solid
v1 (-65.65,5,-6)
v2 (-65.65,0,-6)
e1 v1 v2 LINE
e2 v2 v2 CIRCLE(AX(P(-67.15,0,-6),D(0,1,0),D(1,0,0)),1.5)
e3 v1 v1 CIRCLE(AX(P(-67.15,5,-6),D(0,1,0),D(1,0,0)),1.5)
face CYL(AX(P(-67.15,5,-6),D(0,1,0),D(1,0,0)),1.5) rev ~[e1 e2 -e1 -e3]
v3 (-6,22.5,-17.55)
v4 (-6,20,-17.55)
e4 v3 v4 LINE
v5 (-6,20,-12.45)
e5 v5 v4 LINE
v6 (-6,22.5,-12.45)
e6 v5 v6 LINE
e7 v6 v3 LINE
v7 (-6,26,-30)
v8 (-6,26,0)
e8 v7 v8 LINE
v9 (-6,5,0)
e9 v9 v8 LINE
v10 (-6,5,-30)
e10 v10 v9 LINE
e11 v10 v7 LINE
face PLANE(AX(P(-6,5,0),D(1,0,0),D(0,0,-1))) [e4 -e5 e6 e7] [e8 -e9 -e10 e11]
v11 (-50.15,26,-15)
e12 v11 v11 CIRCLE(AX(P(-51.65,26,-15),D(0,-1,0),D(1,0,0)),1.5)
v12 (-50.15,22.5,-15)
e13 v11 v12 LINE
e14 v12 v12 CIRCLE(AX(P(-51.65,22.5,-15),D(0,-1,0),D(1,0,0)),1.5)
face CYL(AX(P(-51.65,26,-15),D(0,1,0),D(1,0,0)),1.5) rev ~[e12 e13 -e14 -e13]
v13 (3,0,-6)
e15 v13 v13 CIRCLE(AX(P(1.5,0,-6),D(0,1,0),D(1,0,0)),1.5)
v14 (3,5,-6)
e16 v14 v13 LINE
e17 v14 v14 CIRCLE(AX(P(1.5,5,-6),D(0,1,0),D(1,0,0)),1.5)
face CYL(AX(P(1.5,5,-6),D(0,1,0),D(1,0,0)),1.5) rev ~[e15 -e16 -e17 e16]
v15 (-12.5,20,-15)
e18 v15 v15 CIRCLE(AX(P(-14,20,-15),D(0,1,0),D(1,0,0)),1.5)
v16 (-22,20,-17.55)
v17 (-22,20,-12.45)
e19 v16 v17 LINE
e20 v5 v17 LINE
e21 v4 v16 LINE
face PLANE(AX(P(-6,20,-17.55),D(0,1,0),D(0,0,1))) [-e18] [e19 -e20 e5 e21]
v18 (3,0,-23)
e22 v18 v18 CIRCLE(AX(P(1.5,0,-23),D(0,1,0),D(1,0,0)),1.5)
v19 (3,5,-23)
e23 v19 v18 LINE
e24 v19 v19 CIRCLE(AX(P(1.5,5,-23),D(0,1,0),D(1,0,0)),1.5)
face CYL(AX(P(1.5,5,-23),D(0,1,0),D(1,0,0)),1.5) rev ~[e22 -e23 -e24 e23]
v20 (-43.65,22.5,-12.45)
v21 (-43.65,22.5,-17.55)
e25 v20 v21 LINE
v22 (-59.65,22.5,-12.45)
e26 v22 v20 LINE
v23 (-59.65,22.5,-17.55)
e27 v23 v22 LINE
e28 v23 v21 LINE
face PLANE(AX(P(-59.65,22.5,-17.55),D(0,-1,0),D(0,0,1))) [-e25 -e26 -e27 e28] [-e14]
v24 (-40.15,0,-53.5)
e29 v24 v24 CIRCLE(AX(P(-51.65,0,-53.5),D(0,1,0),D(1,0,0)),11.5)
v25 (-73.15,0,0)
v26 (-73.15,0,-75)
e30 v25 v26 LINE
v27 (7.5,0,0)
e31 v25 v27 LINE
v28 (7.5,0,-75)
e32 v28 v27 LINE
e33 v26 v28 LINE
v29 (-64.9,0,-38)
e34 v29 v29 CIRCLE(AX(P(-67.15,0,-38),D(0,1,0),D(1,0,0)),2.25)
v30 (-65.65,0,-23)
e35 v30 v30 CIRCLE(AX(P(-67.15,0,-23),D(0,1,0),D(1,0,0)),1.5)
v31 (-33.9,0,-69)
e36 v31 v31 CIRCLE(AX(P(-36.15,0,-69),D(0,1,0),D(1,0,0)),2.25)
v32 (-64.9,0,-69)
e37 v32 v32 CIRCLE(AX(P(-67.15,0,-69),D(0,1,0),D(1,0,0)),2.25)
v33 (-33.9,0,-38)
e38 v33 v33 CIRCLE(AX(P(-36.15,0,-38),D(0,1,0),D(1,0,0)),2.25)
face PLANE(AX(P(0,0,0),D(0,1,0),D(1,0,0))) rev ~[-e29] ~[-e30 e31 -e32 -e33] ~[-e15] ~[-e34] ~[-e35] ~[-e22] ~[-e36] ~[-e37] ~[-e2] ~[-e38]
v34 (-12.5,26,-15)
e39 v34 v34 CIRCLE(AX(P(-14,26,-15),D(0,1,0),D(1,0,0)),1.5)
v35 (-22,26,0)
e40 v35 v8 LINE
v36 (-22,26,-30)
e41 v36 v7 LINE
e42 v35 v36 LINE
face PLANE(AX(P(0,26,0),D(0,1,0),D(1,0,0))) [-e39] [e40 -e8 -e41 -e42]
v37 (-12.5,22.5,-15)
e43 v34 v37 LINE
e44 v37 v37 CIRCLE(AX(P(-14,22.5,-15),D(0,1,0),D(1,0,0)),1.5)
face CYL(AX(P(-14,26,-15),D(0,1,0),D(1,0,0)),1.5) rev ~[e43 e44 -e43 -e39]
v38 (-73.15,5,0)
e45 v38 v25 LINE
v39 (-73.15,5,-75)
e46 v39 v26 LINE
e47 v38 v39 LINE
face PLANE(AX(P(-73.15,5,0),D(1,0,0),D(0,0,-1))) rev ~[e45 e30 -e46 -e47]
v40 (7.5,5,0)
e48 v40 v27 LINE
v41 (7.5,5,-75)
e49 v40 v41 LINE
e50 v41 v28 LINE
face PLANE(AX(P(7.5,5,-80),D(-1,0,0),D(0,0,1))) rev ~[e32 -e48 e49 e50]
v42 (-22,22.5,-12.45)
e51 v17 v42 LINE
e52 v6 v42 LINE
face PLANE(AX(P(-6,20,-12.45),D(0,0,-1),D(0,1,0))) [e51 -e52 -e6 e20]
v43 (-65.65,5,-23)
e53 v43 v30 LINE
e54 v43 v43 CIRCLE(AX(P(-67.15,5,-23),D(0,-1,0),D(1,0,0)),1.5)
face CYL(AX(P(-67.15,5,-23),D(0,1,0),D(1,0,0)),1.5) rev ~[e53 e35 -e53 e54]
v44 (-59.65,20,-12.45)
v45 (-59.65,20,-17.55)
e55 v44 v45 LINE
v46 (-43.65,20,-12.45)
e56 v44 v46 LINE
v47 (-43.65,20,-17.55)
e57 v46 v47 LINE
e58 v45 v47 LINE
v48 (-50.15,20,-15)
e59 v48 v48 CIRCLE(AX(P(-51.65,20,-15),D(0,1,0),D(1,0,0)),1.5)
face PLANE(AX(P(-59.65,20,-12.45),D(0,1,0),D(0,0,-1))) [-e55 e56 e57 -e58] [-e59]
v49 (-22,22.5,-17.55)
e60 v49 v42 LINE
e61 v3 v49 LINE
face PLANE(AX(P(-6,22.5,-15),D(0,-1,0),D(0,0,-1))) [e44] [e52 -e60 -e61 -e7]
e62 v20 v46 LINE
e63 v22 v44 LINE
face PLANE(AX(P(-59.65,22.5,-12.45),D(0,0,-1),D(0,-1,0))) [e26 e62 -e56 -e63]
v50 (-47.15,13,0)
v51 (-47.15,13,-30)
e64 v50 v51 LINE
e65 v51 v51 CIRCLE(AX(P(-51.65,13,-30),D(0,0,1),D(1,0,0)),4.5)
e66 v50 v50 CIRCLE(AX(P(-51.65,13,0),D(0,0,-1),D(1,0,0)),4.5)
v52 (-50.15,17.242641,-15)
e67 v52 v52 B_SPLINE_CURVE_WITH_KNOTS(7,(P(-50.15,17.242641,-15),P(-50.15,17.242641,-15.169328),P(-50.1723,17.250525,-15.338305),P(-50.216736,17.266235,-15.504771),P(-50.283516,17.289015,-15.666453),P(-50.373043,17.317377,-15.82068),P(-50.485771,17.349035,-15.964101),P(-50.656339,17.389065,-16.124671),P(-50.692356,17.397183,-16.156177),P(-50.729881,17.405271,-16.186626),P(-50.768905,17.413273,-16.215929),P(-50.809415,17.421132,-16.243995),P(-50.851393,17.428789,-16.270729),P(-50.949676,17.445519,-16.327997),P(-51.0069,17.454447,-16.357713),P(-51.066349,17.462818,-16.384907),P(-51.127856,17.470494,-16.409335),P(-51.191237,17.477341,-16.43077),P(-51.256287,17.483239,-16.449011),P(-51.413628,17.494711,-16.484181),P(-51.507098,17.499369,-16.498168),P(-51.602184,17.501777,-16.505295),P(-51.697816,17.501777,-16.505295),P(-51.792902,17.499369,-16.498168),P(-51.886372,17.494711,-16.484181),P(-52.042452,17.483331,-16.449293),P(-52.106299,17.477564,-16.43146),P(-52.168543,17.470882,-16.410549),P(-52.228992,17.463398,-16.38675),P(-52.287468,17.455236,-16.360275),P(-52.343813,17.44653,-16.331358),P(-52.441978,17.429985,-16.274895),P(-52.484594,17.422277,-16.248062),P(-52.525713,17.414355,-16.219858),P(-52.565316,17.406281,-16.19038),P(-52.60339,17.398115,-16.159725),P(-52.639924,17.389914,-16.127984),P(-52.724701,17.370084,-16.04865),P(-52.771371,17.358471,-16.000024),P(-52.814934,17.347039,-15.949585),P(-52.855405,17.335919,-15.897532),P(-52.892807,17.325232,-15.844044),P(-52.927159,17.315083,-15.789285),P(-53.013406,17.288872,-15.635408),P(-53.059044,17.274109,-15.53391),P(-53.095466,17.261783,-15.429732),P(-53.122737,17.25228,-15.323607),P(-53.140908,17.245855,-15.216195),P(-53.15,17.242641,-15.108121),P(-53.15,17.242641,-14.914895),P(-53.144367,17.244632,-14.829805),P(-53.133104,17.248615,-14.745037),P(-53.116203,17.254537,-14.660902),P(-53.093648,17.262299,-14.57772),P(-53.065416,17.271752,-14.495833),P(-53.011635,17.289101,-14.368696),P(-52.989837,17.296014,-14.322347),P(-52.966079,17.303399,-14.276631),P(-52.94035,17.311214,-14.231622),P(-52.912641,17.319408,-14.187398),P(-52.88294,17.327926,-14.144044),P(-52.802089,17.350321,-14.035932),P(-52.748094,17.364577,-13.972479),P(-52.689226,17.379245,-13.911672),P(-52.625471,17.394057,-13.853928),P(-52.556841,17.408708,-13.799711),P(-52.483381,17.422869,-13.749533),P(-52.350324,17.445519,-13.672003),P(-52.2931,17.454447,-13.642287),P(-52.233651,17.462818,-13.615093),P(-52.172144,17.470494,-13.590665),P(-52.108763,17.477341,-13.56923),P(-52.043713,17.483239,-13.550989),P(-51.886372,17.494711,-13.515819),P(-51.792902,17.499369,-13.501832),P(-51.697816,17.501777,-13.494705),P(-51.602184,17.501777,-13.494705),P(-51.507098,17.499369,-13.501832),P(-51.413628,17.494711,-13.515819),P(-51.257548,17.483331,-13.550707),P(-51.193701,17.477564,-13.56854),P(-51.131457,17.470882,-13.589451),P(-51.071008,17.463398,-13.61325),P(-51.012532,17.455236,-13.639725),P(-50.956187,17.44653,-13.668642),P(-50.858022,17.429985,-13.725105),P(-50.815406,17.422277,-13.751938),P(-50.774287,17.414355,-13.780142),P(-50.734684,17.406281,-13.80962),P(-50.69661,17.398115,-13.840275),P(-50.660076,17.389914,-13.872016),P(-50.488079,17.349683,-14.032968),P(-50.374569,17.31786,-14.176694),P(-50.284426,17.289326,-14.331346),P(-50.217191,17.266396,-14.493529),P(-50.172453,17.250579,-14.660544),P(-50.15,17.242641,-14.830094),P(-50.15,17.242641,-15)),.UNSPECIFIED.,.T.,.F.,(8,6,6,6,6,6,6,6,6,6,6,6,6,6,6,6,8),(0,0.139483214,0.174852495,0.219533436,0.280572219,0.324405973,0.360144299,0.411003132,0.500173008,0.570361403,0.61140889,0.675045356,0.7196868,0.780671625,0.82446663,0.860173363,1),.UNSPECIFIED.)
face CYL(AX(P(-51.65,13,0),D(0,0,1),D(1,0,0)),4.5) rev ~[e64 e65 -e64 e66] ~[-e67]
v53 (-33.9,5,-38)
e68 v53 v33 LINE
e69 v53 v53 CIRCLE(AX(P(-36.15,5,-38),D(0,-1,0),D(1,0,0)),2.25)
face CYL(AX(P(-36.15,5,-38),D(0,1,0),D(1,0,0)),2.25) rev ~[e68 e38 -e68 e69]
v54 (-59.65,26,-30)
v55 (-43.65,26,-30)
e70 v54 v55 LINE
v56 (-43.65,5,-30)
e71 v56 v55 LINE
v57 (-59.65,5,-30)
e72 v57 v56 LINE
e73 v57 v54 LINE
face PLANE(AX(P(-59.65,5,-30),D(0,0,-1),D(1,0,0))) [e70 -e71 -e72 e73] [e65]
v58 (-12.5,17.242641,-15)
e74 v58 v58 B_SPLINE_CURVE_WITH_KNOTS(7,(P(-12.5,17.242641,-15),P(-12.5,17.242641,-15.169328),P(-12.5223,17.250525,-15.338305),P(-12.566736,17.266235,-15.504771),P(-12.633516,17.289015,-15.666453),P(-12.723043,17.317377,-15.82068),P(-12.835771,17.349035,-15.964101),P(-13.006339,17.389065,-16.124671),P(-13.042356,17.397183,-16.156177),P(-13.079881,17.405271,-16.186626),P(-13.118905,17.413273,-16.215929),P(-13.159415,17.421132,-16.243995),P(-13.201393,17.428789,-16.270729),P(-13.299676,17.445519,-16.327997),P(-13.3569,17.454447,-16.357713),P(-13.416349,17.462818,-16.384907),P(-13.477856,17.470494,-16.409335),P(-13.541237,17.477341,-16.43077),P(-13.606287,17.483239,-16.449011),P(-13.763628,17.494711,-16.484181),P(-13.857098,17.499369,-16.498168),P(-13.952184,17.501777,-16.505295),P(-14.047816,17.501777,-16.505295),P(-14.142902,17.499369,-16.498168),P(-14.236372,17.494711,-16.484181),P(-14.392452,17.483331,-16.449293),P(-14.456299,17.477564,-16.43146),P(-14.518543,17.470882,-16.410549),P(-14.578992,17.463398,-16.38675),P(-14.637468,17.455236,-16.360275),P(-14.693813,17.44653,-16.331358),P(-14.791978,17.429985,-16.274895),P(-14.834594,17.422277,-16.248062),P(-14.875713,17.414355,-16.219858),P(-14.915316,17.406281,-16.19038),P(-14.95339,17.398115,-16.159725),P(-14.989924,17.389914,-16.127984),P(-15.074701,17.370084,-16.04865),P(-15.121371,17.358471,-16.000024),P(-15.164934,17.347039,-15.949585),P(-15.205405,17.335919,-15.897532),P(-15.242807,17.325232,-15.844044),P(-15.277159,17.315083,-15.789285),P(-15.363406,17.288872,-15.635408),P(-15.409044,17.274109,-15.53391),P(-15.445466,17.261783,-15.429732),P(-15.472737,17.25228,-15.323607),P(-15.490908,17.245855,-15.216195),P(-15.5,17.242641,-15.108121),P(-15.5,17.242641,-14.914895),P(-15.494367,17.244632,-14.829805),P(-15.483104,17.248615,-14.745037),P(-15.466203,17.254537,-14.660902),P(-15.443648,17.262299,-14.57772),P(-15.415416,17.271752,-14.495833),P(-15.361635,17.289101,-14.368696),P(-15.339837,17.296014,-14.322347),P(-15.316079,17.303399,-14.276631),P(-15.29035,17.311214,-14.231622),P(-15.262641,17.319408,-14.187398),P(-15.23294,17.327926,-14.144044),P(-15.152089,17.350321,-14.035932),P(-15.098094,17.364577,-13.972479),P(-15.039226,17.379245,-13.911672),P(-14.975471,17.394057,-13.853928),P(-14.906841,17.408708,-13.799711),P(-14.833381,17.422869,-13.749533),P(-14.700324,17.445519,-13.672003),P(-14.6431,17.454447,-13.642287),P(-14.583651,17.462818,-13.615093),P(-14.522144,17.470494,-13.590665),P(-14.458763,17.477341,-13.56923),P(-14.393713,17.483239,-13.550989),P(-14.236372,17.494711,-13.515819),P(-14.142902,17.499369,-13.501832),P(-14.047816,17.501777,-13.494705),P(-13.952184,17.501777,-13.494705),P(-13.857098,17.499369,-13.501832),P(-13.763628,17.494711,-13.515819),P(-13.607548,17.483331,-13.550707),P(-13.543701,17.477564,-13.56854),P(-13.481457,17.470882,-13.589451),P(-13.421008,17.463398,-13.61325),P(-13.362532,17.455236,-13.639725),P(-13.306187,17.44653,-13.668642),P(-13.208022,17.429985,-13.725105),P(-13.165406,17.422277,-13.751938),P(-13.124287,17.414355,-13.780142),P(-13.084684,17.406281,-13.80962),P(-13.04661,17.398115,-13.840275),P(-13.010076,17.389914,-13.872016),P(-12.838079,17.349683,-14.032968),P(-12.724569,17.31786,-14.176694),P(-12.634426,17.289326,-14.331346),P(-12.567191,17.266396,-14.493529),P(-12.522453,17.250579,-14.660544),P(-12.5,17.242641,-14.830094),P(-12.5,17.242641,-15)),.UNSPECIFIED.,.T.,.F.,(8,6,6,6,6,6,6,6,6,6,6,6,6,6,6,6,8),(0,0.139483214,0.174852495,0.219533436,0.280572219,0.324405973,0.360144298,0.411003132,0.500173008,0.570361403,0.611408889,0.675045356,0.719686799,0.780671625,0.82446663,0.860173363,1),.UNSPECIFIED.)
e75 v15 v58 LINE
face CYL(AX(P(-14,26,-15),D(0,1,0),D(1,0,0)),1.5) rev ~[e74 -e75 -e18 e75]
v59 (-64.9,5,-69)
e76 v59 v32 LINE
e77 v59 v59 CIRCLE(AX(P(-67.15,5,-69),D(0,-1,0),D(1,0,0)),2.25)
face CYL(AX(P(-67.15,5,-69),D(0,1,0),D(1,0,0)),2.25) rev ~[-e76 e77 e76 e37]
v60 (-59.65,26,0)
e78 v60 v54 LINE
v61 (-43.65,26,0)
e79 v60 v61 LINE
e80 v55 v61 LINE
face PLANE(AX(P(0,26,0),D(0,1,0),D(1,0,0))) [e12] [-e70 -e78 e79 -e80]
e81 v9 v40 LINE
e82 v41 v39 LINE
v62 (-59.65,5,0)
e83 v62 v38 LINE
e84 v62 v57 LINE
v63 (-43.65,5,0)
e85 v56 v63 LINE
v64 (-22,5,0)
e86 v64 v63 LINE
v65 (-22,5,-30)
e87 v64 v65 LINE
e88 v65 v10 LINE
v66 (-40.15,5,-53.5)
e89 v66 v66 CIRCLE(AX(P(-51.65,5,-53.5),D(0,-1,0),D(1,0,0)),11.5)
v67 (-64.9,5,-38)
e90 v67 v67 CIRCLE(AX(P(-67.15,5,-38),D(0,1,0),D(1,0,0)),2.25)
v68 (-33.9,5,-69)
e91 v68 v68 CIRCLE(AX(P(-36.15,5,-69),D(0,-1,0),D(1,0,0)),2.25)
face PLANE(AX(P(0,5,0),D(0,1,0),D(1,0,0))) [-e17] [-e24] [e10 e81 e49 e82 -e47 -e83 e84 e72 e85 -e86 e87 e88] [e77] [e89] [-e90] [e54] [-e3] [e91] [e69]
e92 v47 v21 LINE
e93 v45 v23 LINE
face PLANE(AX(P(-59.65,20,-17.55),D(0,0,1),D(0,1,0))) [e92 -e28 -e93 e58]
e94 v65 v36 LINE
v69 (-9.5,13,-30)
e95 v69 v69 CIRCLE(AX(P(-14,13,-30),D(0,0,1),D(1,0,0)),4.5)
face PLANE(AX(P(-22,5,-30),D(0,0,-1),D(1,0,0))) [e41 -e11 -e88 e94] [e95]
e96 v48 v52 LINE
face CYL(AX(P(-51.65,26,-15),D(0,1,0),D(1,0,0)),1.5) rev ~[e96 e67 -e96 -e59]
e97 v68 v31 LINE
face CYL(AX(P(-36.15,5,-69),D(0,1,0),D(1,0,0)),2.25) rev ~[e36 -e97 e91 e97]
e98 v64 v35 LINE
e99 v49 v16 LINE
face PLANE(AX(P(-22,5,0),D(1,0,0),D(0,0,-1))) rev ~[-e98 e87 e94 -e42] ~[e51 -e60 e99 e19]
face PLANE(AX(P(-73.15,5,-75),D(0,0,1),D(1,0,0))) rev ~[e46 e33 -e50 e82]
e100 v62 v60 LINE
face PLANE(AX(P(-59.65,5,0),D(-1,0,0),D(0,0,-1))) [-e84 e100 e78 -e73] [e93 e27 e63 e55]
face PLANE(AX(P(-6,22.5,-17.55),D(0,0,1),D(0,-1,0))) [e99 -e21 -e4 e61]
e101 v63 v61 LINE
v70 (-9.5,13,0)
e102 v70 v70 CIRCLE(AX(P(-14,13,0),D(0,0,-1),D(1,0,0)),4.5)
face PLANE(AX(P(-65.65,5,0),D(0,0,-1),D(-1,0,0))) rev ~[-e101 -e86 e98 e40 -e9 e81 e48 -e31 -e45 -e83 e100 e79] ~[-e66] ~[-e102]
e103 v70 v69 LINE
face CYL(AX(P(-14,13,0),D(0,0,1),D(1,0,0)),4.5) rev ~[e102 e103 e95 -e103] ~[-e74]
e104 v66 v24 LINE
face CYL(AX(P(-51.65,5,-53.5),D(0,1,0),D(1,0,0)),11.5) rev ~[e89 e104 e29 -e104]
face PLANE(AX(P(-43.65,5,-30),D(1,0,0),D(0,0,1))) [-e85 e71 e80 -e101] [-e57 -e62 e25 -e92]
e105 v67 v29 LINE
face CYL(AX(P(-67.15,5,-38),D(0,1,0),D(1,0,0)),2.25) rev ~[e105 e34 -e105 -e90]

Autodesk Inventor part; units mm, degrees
ref_plane "YZ Plane" through (0, 0, 0) normal (1, 0, 0) x (0, 1, 0)
ref_plane "XZ Plane" through (0, 0, 0) normal (0, 1, 0) x (-1, 0, 0)
ref_plane "XY Plane" through (0, 0, 0) normal (0, 0, 1) x (1, 0, 0)
sketch "Skizze1" plane through (0, 0, 0) normal (0, 1, 0) x (-1, 0, 0)
  line L0 (0, 0) -> (65.65, 0)
  line L1 (65.65, 0) -> (65.65, -80)
  line L2 (65.65, -80) -> (0, -80)
  line L3 (0, -80) -> (0, 0)
  dimension "d0" = 65.65
  dimension "d1" = 80
extrude "Extrusion1" add sketch "Skizze1" along normal blind 5
sketch "Skizze2" plane through (0, 5, 0) normal (0, 1, 0) x (1, 0, 0)
  line L0 (-65.65, 80) -> (-65.65, 0) projected
  line L1 (-65.65, 0) -> (0, 0) projected
  line L2 (-65.65, 0) -> (-59.65, 0) construction
  line L3 (-59.65, 0) -> (-59.65, 30)
  line L4 (-59.65, 30) -> (-43.65, 30)
  line L5 (-43.65, 30) -> (-43.65, 0)
  line L6 (-43.65, 0) -> (-59.65, 0)
  line L7 (-22, 0) -> (-22, 30)
  line L8 (-22, 30) -> (-6, 30)
  line L9 (-6, 30) -> (-6, 0)
  line L10 (-6, 0) -> (-22, 0)
  dimension "d4" = 6
  dimension "d6" = 30
  dimension "d7" = 16
  dimension "d8" = 90
  dimension "d9" = 16
  dimension "d10" = 21.65
  dimension "d11" = 30
  dimension "d12" = 16
  dimension "d13" = 90
  dimension "d14" = 30
  dimension "d15" = 90
extrude "Extrusion2" add sketch "Skizze2" along normal blind 21 contours L3 L4 L5 L1
sketch "Skizze3" plane through (0, 5, 0) normal (0, 1, 0) x (1, 0, 0)
  line L0 (-43.65, 0) -> (0, 0) projected
  line L1 (-43.65, 0) -> (-22, 0)
  line L2 (-22, 0) -> (-22, 30)
  line L3 (-22, 30) -> (-6, 30)
  line L4 (-6, 30) -> (-6, 0)
  line L5 (-6, 0) -> (-22, 0)
  dimension "d18" = 21.65
  dimension "d19" = 30
  dimension "d21" = 16
  dimension "d22" = 16
extrude "Extrusion3" add sketch "Skizze3" along normal blind 21
sketch "Skizze4" plane through (0, 5, 0) normal (0, 1, 0) x (1, 0, 0)
  line L0 (-65.65, 0) -> (0, 0) projected
  line L1 (-5.9719, 0) -> (14.5281, 0)
  line L2 (14.5281, 0) -> (14.5281, 80)
  line L3 (0, 0) -> (0, 80) projected
  line L4 (14.5281, 80) -> (0, 80)
  line L5 (0, 80) -> (0, 0)
  dimension "d25" = 20.5
  dimension "d26" = 80
  dimension "d27" = 90
extrude "Extrusion4" add sketch "Skizze4" against normal blind 5
sketch "Skizze5" plane through (0, 5, 0) normal (0, 1, 0) x (1, 0, 0)
  line L0 (-22, 30) -> (-6, 30) projected
  line L1 (-22, 30) -> (-14, 30)
  line L2 (-14, 30) -> (-14, 38)
  line L3 (-14, 38) -> (-29.5, 38)
  circle A0 centre (-29.5, 38) radius 1
  point P0 (0, 0)
  dimension "d30" = 8
  dimension "d31" = 8
  dimension "d32" = 15.5
  dimension "d33" = 2
extrude "Extrusion5" cut sketch "Skizze5" against normal blind 5
sketch "Skizze6" plane through (0, 5, 0) normal (0, 1, 0) x (1, 0, 0)
  circle A0 centre (-29.5, 38) radius 1 projected
  line L0 (-29.5, 38) -> (1.5, 38)
  line L1 (-29.5, 38) -> (1.5, 38) construction
  circle A1 centre (1.5, 38) radius 1
  point P0 (0, 0)
  dimension "d36" = 31
  dimension "d37" = 0
  dimension "d38" = 2
extrude "Extrusion6" cut sketch "Skizze6" against normal blind 5 contours A1
sketch "Skizze7" plane through (0, 5, 0) normal (0, 1, 0) x (1, 0, 0)
  circle A0 centre (1.5, 38) radius 1 projected
  line L0 (1.5, 38) -> (1.5, 69)
  circle A1 centre (1.5, 69) radius 1
  point P0 (0, 0)
  dimension "d41" = 31
  dimension "d42" = 2
extrude "Extrusion7" cut sketch "Skizze7" against normal blind 5 contours A1
sketch "Skizze8" plane through (0, 5, 0) normal (0, 1, 0) x (1, 0, 0)
  circle A0 centre (-29.5, 38) radius 1 projected
  line L0 (-29.5, 38) -> (-29.5, 69)
  circle A1 centre (-29.5, 69) radius 1
  point P0 (0, 0)
  dimension "d45" = 31
  dimension "d46" = 2
extrude "Extrusion8" cut sketch "Skizze8" against normal blind 5 contours A1
sketch "Skizze9" plane through (0, 5, 0) normal (0, 1, 0) x (1, 0, 0)
  circle A0 centre (1.5, 38) radius 1 projected
  line L0 (1.5, 38) -> (7.5, 38)
  line L1 (14.5281, 80) -> (-65.65, 80) projected
  line L2 (-65.65, 0) -> (14.5281, 0) projected
  line L3 (14.5281, 0) -> (14.5281, 80) projected
  line L4 (7.5, 38) -> (14.5281, 38)
  line L5 (14.5281, 38) -> (14.5281, 80)
  line L6 (14.5281, 80) -> (7.5, 80)
  line L7 (7.5, 80) -> (7.5, 38)
  point P0 (0, 0)
  dimension "d49" = 6
extrude "Extrusion9" cut sketch "Skizze9" against normal blind 5 contours L7 L1 L3 L4
sketch "Skizze10" plane through (0, 5, 0) normal (0, 1, 0) x (1, 0, 0)
  line L0 (7.5, 38) -> (7.5, 80) projected
  line L1 (14.5281, 0) -> (14.5281, 38) projected
  line L2 (7.5, 38) -> (14.5281, 38)
  line L3 (14.5281, 38) -> (14.5281, 0)
  line L4 (14.5281, 0) -> (7.5, 0)
  line L5 (7.5, 0) -> (7.5, 38)
  point P0 (0, 0)
extrude "Extrusion10" cut sketch "Skizze10" against normal blind 5
sketch "Skizze11" plane through (0, 5, 0) normal (0, 1, 0) x (1, 0, 0)
  circle A0 centre (1.5, 69) radius 1 projected
  line L0 (1.5, 69) -> (1.5, 75)
  line L1 (1.5, 75) -> (7.5, 75)
  line L2 (7.5, 0) -> (7.5, 80) projected
  line L3 (7.5, 80) -> (1.5, 80)
  line L4 (7.5, 80) -> (-65.65, 80) projected
  line L5 (1.5, 75) -> (1.5, 80)
  point P0 (0, 0)
  dimension "d54" = 6
extrude "Extrusion11" cut sketch "Skizze11" against normal blind 5 contours L5 L3 L2 L1
sketch "Skizze12" plane through (0, 5, 0) normal (0, 1, 0) x (1, 0, 0)
  line L0 (1.5, 80) -> (-65.65, 80) projected
  line L1 (1.5, 75) -> (-65.65, 75)
  line L2 (-65.65, 75) -> (-65.65, 80)
  line L3 (-65.65, 80) -> (1.5, 80)
  line L4 (1.5, 80) -> (1.5, 75)
  point P0 (0, 0)
extrude "Extrusion12" cut sketch "Skizze12" against normal blind 5
sketch "Skizze13" plane through (0, 5, 0) normal (0, 1, 0) x (1, 0, 0)
  circle A0 centre (1.5, 38) radius 1 projected
  line L0 (1.5, 38) -> (1.5, 23)
  circle A1 centre (1.5, 23) radius 1
  point P0 (0, 0)
  dimension "d59" = 15
  dimension "d60" = 2
extrude "Extrusion13" cut sketch "Skizze13" against normal blind 5 contours A1
sketch "Skizze14" plane through (0, 5, 0) normal (0, 1, 0) x (1, 0, 0)
  circle A0 centre (1.5, 23) radius 1 projected
  line L0 (-65.65, 0) -> (7.5, 0) projected
  line L1 (-6, 30) -> (-6, 0) projected
  line L2 (1.5, 0) -> (-6, 0)
  line L3 (1.5, 0) -> (1.5, 6)
  circle A1 centre (1.5, 6) radius 1
  point P0 (0, 0)
  dimension "d63" = 6
  dimension "d64" = 2
extrude "Extrusion14" cut sketch "Skizze14" against normal blind 5 contours A1
sketch "Skizze15" plane through (0, 5, 0) normal (0, 1, 0) x (1, 0, 0)
  line L0 (-65.65, 0) -> (7.5, 0) projected
  line L1 (-65.65, 0) -> (-62.65, 0)
  line L2 (-62.65, 0) -> (-62.65, 6)
  circle A0 centre (-62.65, 6) radius 1
  point P0 (0, 0)
  dimension "d67" = 3
  dimension "d68" = 6
  dimension "d69" = 2
extrude "Extrusion15" cut sketch "Skizze15" against normal blind 5
sketch "Skizze16" plane through (0, 5, 0) normal (0, 1, 0) x (1, 0, 0)
  circle A0 centre (-62.65, 6) radius 1 projected
  line L0 (-62.65, 6) -> (-62.65, 23)
  circle A1 centre (-62.65, 23) radius 1
  point P0 (0, 0)
  dimension "d72" = 17
  dimension "d73" = 2
extrude "Extrusion16" cut sketch "Skizze16" against normal blind 5 contours A1
sketch "Skizze17" plane through (-65.65, 0, 0) normal (0, 0, 1) x (1, 0, 0)
  line L0 (6, 26) -> (22, 26) projected
  line L1 (6, 26) -> (14, 26)
  line L2 (14, 26) -> (14, 13)
  circle A0 centre (14, 13) radius 4.5
  point P0 (65.65, 0)
  dimension "d76" = 8
  dimension "d77" = 13
  dimension "d78" = 9
extrude "Extrusion17" cut sketch "Skizze17" against normal blind 30
sketch "Skizze18" plane through (-65.65, 0, 0) normal (0, 0, 1) x (1, 0, 0)
  line L0 (43.65, 5) -> (43.65, 26) projected
  line L1 (43.65, 26) -> (51.65, 26)
  line L2 (51.65, 26) -> (51.65, 13)
  circle A0 centre (51.65, 13) radius 4.5
  point P0 (65.65, 0)
  dimension "d81" = 8
  dimension "d82" = 13
  dimension "d83" = 9
extrude "Extrusion18" cut sketch "Skizze18" against normal blind 30
sketch "Skizze19" plane through (-59.65, 5, -30) normal (-1, 0, 0) x (0, 0, 1)
  line L0 (0, 0) -> (0, 21) projected
  line L1 (0, 21) -> (15, 21)
  line L2 (0, 21) -> (30, 21) projected
  line L3 (15, 21) -> (15, 17)
  line L4 (15, 17) -> (17.75, 17)
  line L5 (17.75, 17) -> (12.25, 17)
  line L6 (12.25, 17) -> (12.25, 15.75)
  line L7 (12.25, 15.75) -> (17.75, 15.75)
  line L8 (17.75, 15.75) -> (17.75, 17)
  point P0 (30, -5)
  dimension "d86" = 15
  dimension "d87" = 4
  dimension "d88" = 2.75
  dimension "d89" = 5.5
  dimension "d90" = 1.25
extrude "Extrusion19" cut sketch "Skizze19" against normal blind 16
sketch "Skizze20" plane through (0, 5, 0) normal (0, 1, 0) x (1, 0, 0)
  circle A0 centre (1.5, 23) radius 1 projected
  circle A1 centre (1.5, 23) radius 1.5
  point P0 (0, 0)
  dimension "d93" = 3
extrude "Extrusion20" cut sketch "Skizze20" against normal blind 5 contours A0 | A1
sketch "Skizze21" plane through (0, 5, 0) normal (0, 1, 0) x (1, 0, 0)
  circle A0 centre (1.5, 6) radius 1 projected
  circle A1 centre (1.5, 6) radius 1.5
  point P0 (0, 0)
  dimension "d96" = 3
extrude "Extrusion21" cut sketch "Skizze21" against normal blind 5 contours A0 | A1
sketch "Skizze22" plane through (0, 5, 0) normal (0, 1, 0) x (1, 0, 0)
  circle A0 centre (-62.65, 23) radius 1 projected
  circle A1 centre (-62.65, 23) radius 1.5
  point P0 (0, 0)
  dimension "d99" = 3
extrude "Extrusion22" cut sketch "Skizze22" against normal blind 5 contours A0 | A1
sketch "Skizze23" plane through (0, 5, 0) normal (0, 1, 0) x (1, 0, 0)
  circle A0 centre (-62.65, 6) radius 1 projected
  circle A1 centre (-62.65, 6) radius 1.5
  point P0 (0, 0)
  dimension "d102" = 3
extrude "Extrusion23" cut sketch "Skizze23" against normal blind 5 contours A0 | A1
sketch "Skizze24" plane through (0, 5, 0) normal (0, 1, 0) x (1, 0, 0)
  circle A0 centre (1.5, 69) radius 1 projected
  circle A1 centre (1.5, 69) radius 2.25
  point P0 (0, 0)
  dimension "d105" = 4.5
extrude "Extrusion24" cut sketch "Skizze24" against normal blind 5 contours A0 | A1
sketch "Skizze25" plane through (0, 5, 0) normal (0, 1, 0) x (1, 0, 0)
  circle A0 centre (-29.5, 69) radius 1 projected
  circle A1 centre (-29.5, 69) radius 2.25
  point P0 (0, 0)
  dimension "d108" = 4.5
extrude "Extrusion25" cut sketch "Skizze25" against normal blind 5 contours A0 | A1
sketch "Skizze26" plane through (0, 5, 0) normal (0, 1, 0) x (1, 0, 0)
  circle A0 centre (1.5, 38) radius 1 projected
  circle A1 centre (1.5, 38) radius 2.25
  point P0 (0, 0)
  dimension "d112" = 4.5
extrude "Extrusion26" cut sketch "Skizze26" against normal blind 5 contours A0 | A1
sketch "Skizze27" plane through (0, 5, 0) normal (0, 1, 0) x (1, 0, 0)
  circle A0 centre (-29.5, 38) radius 1 projected
  circle A1 centre (-29.5, 38) radius 2.25
  point P0 (0, 0)
  dimension "d115" = 4.5
extrude "Extrusion27" cut sketch "Skizze27" against normal blind 5 contours A0 | A1
sketch "Skizze28" plane through (0, 26, 0) normal (0, 1, 0) x (1, 0, 0)
  line L0 (-43.65, 30) -> (-43.65, 0) projected
  line L1 (-59.65, 0) -> (-59.65, 30) projected
  line L2 (-43.65, 0) -> (-59.65, 30)
  line L3 (-59.65, 30) -> (-43.65, 30) projected
  line L4 (-43.65, 30) -> (-59.65, 0)
  circle A0 centre (-51.65, 15) radius 1.5
  point P0 (0, 0)
  dimension "d118" = 3
extrude "Extrusion28" cut sketch "Skizze28" against normal blind 13 contours A0 L2 L4 | L4 L2 A0 | A0 L4 L2 | L2 L4 A0
sketch "Skizze29" plane through (-6, 5, 0) normal (1, 0, 0) x (0, 0, -1)
  line L0 (0, 21) -> (15, 21)
  line L1 (0, 21) -> (30, 21) projected
  line L2 (15, 21) -> (11, 21)
  line L3 (15, 21) -> (15, 17)
  line L4 (15, 21) -> (19, 21) construction
  line L5 (15, 17) -> (17.27, 17)
  line L6 (12.25, 17) -> (17.75, 17) projected
  line L7 (17.27, 17) -> (11.77, 17)
  line L8 (11.77, 17) -> (11.77, 15.75)
  line L9 (11.77, 15.75) -> (17.27, 15.75)
  line L10 (17.27, 15.75) -> (17.27, 17)
  point P0 (0, -5)
  dimension "d123" = 15
  dimension "d124" = 4
  dimension "d125" = 4
  dimension "d126" = 90
  dimension "d127" = 2.27
  dimension "d128" = 5.5
  dimension "d129" = 1.25
extrude "Extrusion29" cut sketch "Skizze29" against normal blind 16
sketch "Skizze30" plane through (0, 26, 0) normal (0, 1, 0) x (1, 0, 0)
  line L0 (-22, 30) -> (-22, 0) projected
  line L1 (-6, 0) -> (-6, 30) projected
  line L2 (-22, 0) -> (-6, 30)
  line L3 (-22, 30) -> (-6, 0)
  circle A0 centre (-14, 15) radius 1.5
  point P0 (0, 0)
  dimension "d132" = 3
extrude "Extrusion30" cut sketch "Skizze30" against normal blind 13 contours A0 L2 L3 | L3 L2 A0 | L2 L3 A0 | L2 A0 L3
sketch "Skizze31" plane through (0, 5, 0) normal (0, 1, 0) x (1, 0, 0)
  circle A0 centre (-29.5, 38) radius 2.25 projected
  circle A1 centre (1.5, 69) radius 2.25 projected
  line L0 (-29.5, 38) -> (1.5, 69)
  circle A2 centre (-29.5, 69) radius 2.25 projected
  circle A3 centre (1.5, 38) radius 2.25 projected
  line L1 (-29.5, 69) -> (1.5, 38)
  circle A4 centre (-14, 53.5) radius 11.5
  point P0 (0, 0)
  dimension "d137" = 23
extrude "Extrusion31" cut sketch "Skizze31" against normal blind 5 contours A4 L1 L0 | L0 L1 A4 | L1 A4 L0 | L0 A4 L1
sketch "Skizze32" plane through (0, 5, 0) normal (0, 1, 0) x (1, 0, 0)
  line L0 (-65.65, 75) -> (-65.65, 0) projected
  circle A0 centre (-29.5, 38) radius 2.25 projected
  line L1 (-65.65, 38) -> (-59.65, 38)
  circle A1 centre (-59.65, 38) radius 2.25
  point P0 (0, 0)
  dimension "d140" = 6
  dimension "d141" = 4.5
extrude "Extrusion32" cut sketch "Skizze32" against normal blind 5 contours A1
sketch "Skizze33" plane through (0, 5, 0) normal (0, 1, 0) x (1, 0, 0)
  circle A0 centre (-59.65, 38) radius 2.25 projected
  line L0 (-59.65, 38) -> (-59.65, 69)
  line L1 (-59.65, 38) -> (-28.65, 38) construction
  circle A1 centre (-59.65, 69) radius 2.25
  point P0 (0, 0)
  dimension "d144" = 31
  dimension "d145" = 90
  dimension "d146" = 4.5
extrude "Extrusion33" cut sketch "Skizze33" against normal blind 5 contours A1
sketch "Skizze34" plane through (0, 5, 0) normal (0, 1, 0) x (1, 0, 0)
  circle A0 centre (-59.65, 38) radius 2.25 projected
  line L0 (-59.65, 38) -> (-47.242, 66.4085)
  circle A1 centre (-29.5, 38) radius 2.25 projected
  circle A2 centre (-29.5, 38) radius 2.25
  point P0 (0, 0)
  dimension "d149" = 31
  dimension "d150" = 4.5
extrude "Extrusion34" add sketch "Skizze34" against normal blind 5 contours A1
sketch "Skizze35" plane through (0, 5, 0) normal (0, 1, 0) x (1, 0, 0)
  circle A0 centre (-59.65, 38) radius 2.25 projected
  line L0 (-59.65, 38) -> (-28.65, 38)
  line L1 (-59.65, 38) -> (-28.65, 38) construction
  circle A1 centre (-28.65, 38) radius 2.25
  point P0 (0, 0)
  dimension "d153" = 31
  dimension "d154" = 0
  dimension "d155" = 4.5
extrude "Extrusion35" cut sketch "Skizze35" against normal blind 5 contours A1
sketch "Skizze36" plane through (0, 5, 0) normal (0, 1, 0) x (1, 0, 0)
  circle A0 centre (-29.5, 69) radius 2.25 projected
  circle A1 centre (-29.5, 69) radius 2.25
  point P0 (0, 0)
  dimension "d158" = 4.5
extrude "Extrusion36" add sketch "Skizze36" against normal blind 5
sketch "Skizze37" plane through (0, 5, 0) normal (0, 1, 0) x (1, 0, 0)
  circle A0 centre (-28.65, 38) radius 2.25 projected
  line L0 (-28.65, 38) -> (-28.65, 69)
  line L1 (-28.65, 38) -> (2.35, 38) construction
  circle A1 centre (-28.65, 69) radius 2.25
  point P0 (0, 0)
  dimension "d161" = 31
  dimension "d162" = 90
  dimension "d163" = 4.5
extrude "Extrusion37" cut sketch "Skizze37" against normal blind 5 contours A1
sketch "Skizze38" plane through (0, 5, 0) normal (0, 1, 0) x (1, 0, 0)
  circle A0 centre (-59.65, 38) radius 2.25 projected
  circle A1 centre (-28.65, 69) radius 2.25 projected
  line L0 (-59.65, 38) -> (-28.65, 69)
  circle A2 centre (-28.65, 38) radius 2.25 projected
  circle A3 centre (-59.65, 69) radius 2.25 projected
  line L1 (-28.65, 38) -> (-59.65, 69)
  circle A4 centre (-44.15, 53.5) radius 11.5
  point P0 (0, 0)
  dimension "d166" = 23
extrude "Extrusion38" cut sketch "Skizze38" against normal blind 5 contours A4 L1 L0 | L0 L1 A4 | L1 A4 L0 | L0 A4 L1
sketch "Skizze39" plane through (0, 5, 0) normal (0, 1, 0) x (1, 0, 0)
  circle A0 centre (-14, 53.5) radius 11.5 projected
  circle A1 centre (-14, 53.5) radius 11.5
  point P0 (0, 0)
  dimension "d169" = 23
extrude "Extrusion39" add sketch "Skizze39" against normal blind 5
sketch "Skizze40" plane through (0, 5, 0) normal (0, 1, 0) x (1, 0, 0)
  circle A0 centre (1.5, 38) radius 2.25 projected
  circle A1 centre (1.5, 38) radius 2.25
  point P0 (0, 0)
  dimension "d172" = 4.5
extrude "Extrusion40" add sketch "Skizze40" against normal blind 5
sketch "Skizze41" plane through (0, 5, 0) normal (0, 1, 0) x (1, 0, 0)
  circle A0 centre (1.5, 69) radius 2.25 projected
  circle A1 centre (1.5, 69) radius 2.25
  point P0 (0, 0)
  dimension "d175" = 4.5
extrude "Extrusion41" add sketch "Skizze41" against normal blind 5
sketch "Skizze42" plane through (0, 5, 0) normal (0, 1, 0) x (1, 0, 0)
  point P0 (0, 0)
sketch "Skizze43" plane through (0, 5, 0) normal (0, 1, 0) x (1, 0, 0)
  circle A0 centre (-59.65, 38) radius 2.25 projected
  circle A1 centre (-59.65, 38) radius 2.25
  point P0 (0, 0)
extrude "Extrusion42" add sketch "Skizze43" against normal blind 5
sketch "Skizze44" plane through (0, 5, 0) normal (0, 1, 0) x (1, 0, 0)
  circle A0 centre (-59.65, 69) radius 2.25 projected
  circle A1 centre (-59.65, 69) radius 2.25
  point P0 (0, 0)
  dimension "d180" = 4.5
extrude "Extrusion43" add sketch "Skizze44" against normal blind 5
sketch "Skizze45" plane through (0, 5, 0) normal (0, 1, 0) x (1, 0, 0)
  circle A0 centre (-28.65, 38) radius 2.25 projected
  circle A1 centre (-28.65, 38) radius 2.25
  point P0 (0, 0)
  dimension "d183" = 4.5
extrude "Extrusion44" add sketch "Skizze45" against normal blind 5
sketch "Skizze46" plane through (0, 5, 0) normal (0, 1, 0) x (1, 0, 0)
  circle A0 centre (-28.65, 69) radius 2.25 projected
  circle A1 centre (-28.65, 69) radius 2.25
  point P0 (0, 0)
  dimension "d186" = 4.5
extrude "Extrusion45" add sketch "Skizze46" against normal blind 5
sketch "Skizze47" plane through (0, 5, 0) normal (0, 1, 0) x (1, 0, 0)
  circle A0 centre (-44.15, 53.5) radius 11.5 projected
  circle A1 centre (-44.15, 53.5) radius 11.5
  point P0 (0, 0)
extrude "Extrusion46" add sketch "Skizze47" against normal blind 5
sketch "Skizze48" plane through (0, 5, 0) normal (0, 1, 0) x (1, 0, 0)
  circle A0 centre (-62.65, 6) radius 1.5 projected
  circle A1 centre (-62.65, 6) radius 1.5
  point P0 (0, 0)
  dimension "d191" = 3
extrude "Extrusion47" add sketch "Skizze48" against normal blind 5
sketch "Skizze49" plane through (0, 5, 0) normal (0, 1, 0) x (1, 0, 0)
  circle A0 centre (-62.65, 23) radius 1.5 projected
  circle A1 centre (-62.65, 23) radius 1.5
  point P0 (0, 0)
  dimension "d194" = 3
extrude "Extrusion48" add sketch "Skizze49" against normal blind 5
sketch "Skizze50" plane through (0, 5, 0) normal (0, 1, 0) x (1, 0, 0)
  line L0 (-59.65, 0) -> (-59.65, 30) projected
  line L1 (-59.65, 0) -> (-73.15, 0)
  line L2 (-65.65, 0) -> (-59.65, 0) projected
  line L3 (-59.65, 0) -> (-46.15, 0) construction
  line L4 (-65.65, 75) -> (-65.65, 0) projected
  line L5 (-65.65, 0) -> (-73.15, 0)
  line L6 (-73.15, 0) -> (-73.15, 75)
  line L7 (-73.15, 75) -> (-65.65, 75)
  line L8 (-65.65, 75) -> (-65.65, 0)
  point P0 (0, 0)
  dimension "d197" = 13.5
  dimension "d198" = 180
extrude "Extrusion49" add sketch "Skizze50" against normal blind 5
sketch "Skizze51" plane through (0, 5, 0) normal (0, 1, 0) x (1, 0, 0)
  line L0 (-73.15, 0) -> (-67.15, 0)
  circle A0 centre (-67.15, 6) radius 1.5
  point P0 (0, 0)
  dimension "d203" = 3
extrude "Extrusion50" cut sketch "Skizze51" against normal blind 5
sketch "Skizze52" plane through (0, 5, 0) normal (0, 1, 0) x (1, 0, 0)
  circle A0 centre (-67.15, 6) radius 1.5 projected
  line L0 (-67.15, 6) -> (-67.15, 23)
  circle A1 centre (-67.15, 23) radius 1.5
  point P0 (0, 0)
  dimension "d206" = 17
  dimension "d207" = 3
extrude "Extrusion51" cut sketch "Skizze52" against normal blind 5 contours A1
sketch "Skizze53" plane through (0, 5, 0) normal (0, 1, 0) x (1, 0, 0)
  line L0 (-73.15, 75) -> (-67.15, 75)
  line L1 (-67.15, 75) -> (-67.15, 69)
  line L2 (-67.15, 69) -> (-73.15, 69)
  line L3 (-73.15, 69) -> (-73.15, 75)
  circle A0 centre (-67.15, 69) radius 2.25
  point P0 (0, 0)
  dimension "d210" = 6
  dimension "d211" = 6
  dimension "d212" = 4.5
extrude "Extrusion52" cut sketch "Skizze53" against normal blind 5 contours A0 L2 L1 | L1 L2 A0
sketch "Skizze54" plane through (0, 5, 0) normal (0, 1, 0) x (1, 0, 0)
  circle A0 centre (-67.15, 69) radius 2.25 projected
  line L0 (-67.15, 69) -> (-36.15, 69)
  circle A1 centre (-36.15, 69) radius 2.25
  point P0 (0, 0)
  dimension "d215" = 31
  dimension "d216" = 4.5
extrude "Extrusion53" cut sketch "Skizze54" against normal blind 5 contours A1
sketch "Skizze55" plane through (0, 5, 0) normal (0, 1, 0) x (1, 0, 0)
  circle A0 centre (-36.15, 69) radius 2.25 projected
  line L0 (-36.15, 69) -> (-36.15, 38)
  circle A1 centre (-36.15, 38) radius 2.25
  point P0 (0, 0)
  dimension "d219" = 31
  dimension "d220" = 4.5
extrude "Extrusion54" cut sketch "Skizze55" against normal blind 5 contours A1
sketch "Skizze56" plane through (0, 5, 0) normal (0, 1, 0) x (1, 0, 0)
  circle A0 centre (-36.15, 38) radius 2.25 projected
  line L0 (-36.15, 38) -> (-67.15, 38)
  line L1 (-36.15, 38) -> (-5.15, 38) construction
  circle A1 centre (-67.15, 38) radius 2.25
  point P0 (0, 0)
  dimension "d223" = 31
  dimension "d224" = 180
  dimension "d225" = 4.5
extrude "Extrusion55" cut sketch "Skizze56" against normal blind 5 contours A1
sketch "Skizze57" plane through (0, 5, 0) normal (0, 1, 0) x (1, 0, 0)
  circle A0 centre (-67.15, 38) radius 2.25 projected
  circle A1 centre (-36.15, 69) radius 2.25 projected
  line L0 (-67.15, 38) -> (-36.15, 69)
  circle A2 centre (-67.15, 69) radius 2.25 projected
  circle A3 centre (-36.15, 38) radius 2.25 projected
  line L1 (-67.15, 69) -> (-36.15, 38)
  circle A4 centre (-51.65, 53.5) radius 11.5
  point P0 (0, 0)
  dimension "d228" = 23
extrude "Extrusion56" cut sketch "Skizze57" against normal blind 5 contours A4 L1 L0 | L0 L1 A4 | L1 A4 L0 | L0 A4 L1
sketch "Skizze58" plane through (0, 5, 0) normal (0, 1, 0) x (1, 0, 0)
  point P0 (0, 0)
sketch "Skizze59" plane through (-6, 5, 0) normal (1, 0, 0) x (0, 0, -1)
  line L0 (11.77, 17) -> (11.77, 15.75) projected
  line L1 (11.77, 17) -> (11.77, 17.625)
  line L2 (11.77, 17) -> (12.395, 17) construction
  line L3 (11.77, 17.625) -> (17.27, 17.625)
  line L4 (17.27, 15.75) -> (17.27, 17) projected
  line L5 (17.27, 17.625) -> (17.27, 17)
  line L6 (17.27, 17) -> (11.77, 17) projected
  line L7 (17.27, 17) -> (11.77, 17)
  point P0 (0, -5)
  dimension "d231" = 0.625
  dimension "d232" = 90
  dimension "d233" = 5.5
  dimension "d234" = 90
extrude "Extrusion57" cut sketch "Skizze59" against normal blind 16
sketch "Skizze60" plane through (-6, 5, 0) normal (1, 0, 0) x (0, 0, -1)
  line L0 (11.77, 15.75) -> (11.77, 15.125)
  line L1 (11.77, 15.125) -> (17.27, 15.125)
  line L2 (17.27, 15.75) -> (11.77, 15.75) projected
  line L3 (17.27, 15.125) -> (17.27, 15.75)
  line L4 (17.27, 15.75) -> (11.77, 15.75)
  line L5 (17.75, 15.75) -> (12.25, 15.75) projected
  point P0 (0, -5)
  dimension "d237" = 0.625
  dimension "d238" = 5.5
extrude "Extrusion58" cut sketch "Skizze60" against normal blind 16
sketch "Skizze61" plane through (-59.65, 5, -30) normal (-1, 0, 0) x (0, 0, 1)
  line L0 (12.25, 17) -> (12.25, 17.625)
  line L1 (12.25, 17.625) -> (17.75, 17.625)
  line L2 (17.75, 17) -> (17.75, 15.75) projected
  line L3 (17.75, 17.625) -> (17.75, 17)
  line L4 (17.75, 17) -> (12.25, 17)
  line L5 (16.5, 17) -> (13.5, 17) projected
  point P0 (30, -5)
  dimension "d241" = 0.625
  dimension "d242" = 5.5
  dimension "d243" = 90
extrude "Extrusion59" cut sketch "Skizze61" against normal blind 16
sketch "Skizze62" plane through (-59.65, 5, -30) normal (-1, 0, 0) x (0, 0, 1)
  line L0 (12.25, 15.75) -> (12.25, 15.125)
  line L1 (12.25, 15.125) -> (17.75, 15.125)
  line L2 (17.75, 15.125) -> (17.75, 15.75)
  line L3 (12.25, 15.75) -> (17.75, 15.75) projected
  line L4 (17.75, 15.75) -> (12.25, 15.75)
  point P0 (30, -5)
  dimension "d246" = 0.625
  dimension "d247" = 5.5
  dimension "d248" = 90
extrude "Extrusion60" cut sketch "Skizze62" against normal blind 16
sketch "Skizze63" plane through (-6, 5, 0) normal (1, 0, 0) x (0, 0, -1)
  line L0 (11.77, 17.625) -> (11.77, 15.125) projected
  line L1 (11.77, 15.125) -> (17.27, 15.125) projected
  line L2 (11.77, 17.625) -> (11.97, 17.625)
  line L3 (11.97, 17.625) -> (11.97, 15.125)
  line L4 (11.97, 15.125) -> (11.77, 15.125)
  line L5 (11.77, 15.125) -> (11.77, 17.625)
  point P0 (0, -5)
  dimension "d251" = 0.2
extrude "Extrusion61" add sketch "Skizze63" against normal blind 16
sketch "Skizze64" plane through (-6, 5, 0) normal (1, 0, 0) x (0, 0, -1)
  line L0 (11.97, 15.125) -> (11.97, 17.625) projected
  line L1 (17.27, 15.125) -> (11.97, 15.125) projected
  line L2 (11.97, 17.625) -> (17.27, 17.625)
  line L3 (17.27, 17.625) -> (17.27, 15.125)
  line L4 (17.27, 15.125) -> (11.97, 15.125)
  line L5 (11.97, 15.125) -> (11.97, 17.625)
  point P0 (0, -5)
extrude "Extrusion62" add sketch "Skizze64" against normal blind 16
sketch "Skizze65" plane through (-6, 5, 0) normal (1, 0, 0) x (0, 0, -1)
  point P0 (0, -5)
sketch "Skizze66" plane through (0, 26, 0) normal (0, 1, 0) x (1, 0, 0)
  circle A0 centre (-14, 15) radius 1.5 projected
  line L0 (-14, 15) -> (-6, 15)
  line L1 (-6, 0) -> (-6, 30) projected
  point P0 (0, 0)
sketch "Skizze67" plane through (-6, 5, 0) normal (1, 0, 0) x (0, 0, -1)
  line L0 (0, 21) -> (30, 21) projected
  line L1 (15, 21) -> (15, 11.1167)
  line L2 (15, 21) -> (15, 17.5)
  line L3 (15, 21) -> (18.5, 21) construction
  line L4 (15, 17.5) -> (17.55, 17.5)
  line L5 (17.75, 15.125) -> (17.75, 17.625) projected
  line L6 (17.55, 17.5) -> (17.55, 15)
  line L7 (17.55, 15) -> (12.45, 15)
  line L8 (12.45, 15) -> (12.45, 17.5)
  line L9 (12.45, 17.5) -> (15, 17.5)
  point P0 (0, -5)
  dimension "d256" = 3.5
  dimension "d257" = 90
  dimension "d258" = 2.55
  dimension "d259" = 2.5
  dimension "d260" = 90
  dimension "d261" = 5.1
  dimension "d262" = 2.5
extrude "Extrusion63" cut sketch "Skizze67" against normal blind 16
sketch "Skizze68" plane through (0, 26, 0) normal (0, 1, 0) x (1, 0, 0)
  circle A0 centre (-14, 15) radius 1.5 projected
  circle A1 centre (-14, 15) radius 1.5
  point P0 (0, 0)
extrude "Extrusion64" add sketch "Skizze68" against normal blind 3.6
extrude "Extrusion65" cut sketch "Skizze66" against normal blind 3.6
sketch "Skizze69" plane through (-59.65, 5, -30) normal (-1, 0, 0) x (0, 0, 1)
  line L0 (12.25, 15.125) -> (12.25, 17.625) projected
  line L1 (17.75, 15.125) -> (12.25, 15.125) projected
  line L2 (12.25, 17.625) -> (17.75, 17.625)
  line L3 (17.75, 17.625) -> (17.75, 15.125)
  line L4 (17.75, 15.125) -> (12.25, 15.125)
  line L5 (12.25, 15.125) -> (12.25, 17.625)
  point P0 (30, -5)
extrude "Extrusion66" add sketch "Skizze69" against normal blind 16
sketch "Skizze70" plane through (0, 26, 0) normal (0, 1, 0) x (1, 0, 0)
  circle A0 centre (-51.65, 15) radius 1.5 projected
  line L0 (-51.65, 15) -> (-59.65, 15)
  line L1 (-59.65, 30) -> (-59.65, 0) projected
  point P0 (0, 0)
sketch "Skizze71" plane through (-59.65, 5, -30) normal (-1, 0, 0) x (0, 0, 1)
  line L0 (0, 21) -> (30, 21) projected
  line L1 (15, 21) -> (15, 17.5)
  line L2 (15, 17.5) -> (17.55, 17.5)
  line L3 (17.55, 17.5) -> (17.55, 15)
  line L4 (17.55, 15) -> (12.45, 15)
  line L5 (12.45, 15) -> (12.45, 17.5)
  line L6 (12.45, 17.5) -> (15, 17.5)
  point P0 (30, -5)
  dimension "d271" = 3.5
  dimension "d272" = 2.55
  dimension "d273" = 2.5
  dimension "d274" = 5.1
extrude "Extrusion67" cut sketch "Skizze71" against normal blind 16
sketch "Skizze72" plane through (0, 26, 0) normal (0, 1, 0) x (1, 0, 0)
  circle A0 centre (-51.65, 15) radius 1.5 projected
  circle A1 centre (-51.65, 15) radius 1.5
  point P0 (0, 0)
  dimension "d277" = 3
extrude "Extrusion68" add sketch "Skizze72" against normal blind 3.5
extrude "Extrusion69" cut sketch "Skizze70" against normal blind 3.5
properties part number "HalterungMotorNeuAndereSeite"
